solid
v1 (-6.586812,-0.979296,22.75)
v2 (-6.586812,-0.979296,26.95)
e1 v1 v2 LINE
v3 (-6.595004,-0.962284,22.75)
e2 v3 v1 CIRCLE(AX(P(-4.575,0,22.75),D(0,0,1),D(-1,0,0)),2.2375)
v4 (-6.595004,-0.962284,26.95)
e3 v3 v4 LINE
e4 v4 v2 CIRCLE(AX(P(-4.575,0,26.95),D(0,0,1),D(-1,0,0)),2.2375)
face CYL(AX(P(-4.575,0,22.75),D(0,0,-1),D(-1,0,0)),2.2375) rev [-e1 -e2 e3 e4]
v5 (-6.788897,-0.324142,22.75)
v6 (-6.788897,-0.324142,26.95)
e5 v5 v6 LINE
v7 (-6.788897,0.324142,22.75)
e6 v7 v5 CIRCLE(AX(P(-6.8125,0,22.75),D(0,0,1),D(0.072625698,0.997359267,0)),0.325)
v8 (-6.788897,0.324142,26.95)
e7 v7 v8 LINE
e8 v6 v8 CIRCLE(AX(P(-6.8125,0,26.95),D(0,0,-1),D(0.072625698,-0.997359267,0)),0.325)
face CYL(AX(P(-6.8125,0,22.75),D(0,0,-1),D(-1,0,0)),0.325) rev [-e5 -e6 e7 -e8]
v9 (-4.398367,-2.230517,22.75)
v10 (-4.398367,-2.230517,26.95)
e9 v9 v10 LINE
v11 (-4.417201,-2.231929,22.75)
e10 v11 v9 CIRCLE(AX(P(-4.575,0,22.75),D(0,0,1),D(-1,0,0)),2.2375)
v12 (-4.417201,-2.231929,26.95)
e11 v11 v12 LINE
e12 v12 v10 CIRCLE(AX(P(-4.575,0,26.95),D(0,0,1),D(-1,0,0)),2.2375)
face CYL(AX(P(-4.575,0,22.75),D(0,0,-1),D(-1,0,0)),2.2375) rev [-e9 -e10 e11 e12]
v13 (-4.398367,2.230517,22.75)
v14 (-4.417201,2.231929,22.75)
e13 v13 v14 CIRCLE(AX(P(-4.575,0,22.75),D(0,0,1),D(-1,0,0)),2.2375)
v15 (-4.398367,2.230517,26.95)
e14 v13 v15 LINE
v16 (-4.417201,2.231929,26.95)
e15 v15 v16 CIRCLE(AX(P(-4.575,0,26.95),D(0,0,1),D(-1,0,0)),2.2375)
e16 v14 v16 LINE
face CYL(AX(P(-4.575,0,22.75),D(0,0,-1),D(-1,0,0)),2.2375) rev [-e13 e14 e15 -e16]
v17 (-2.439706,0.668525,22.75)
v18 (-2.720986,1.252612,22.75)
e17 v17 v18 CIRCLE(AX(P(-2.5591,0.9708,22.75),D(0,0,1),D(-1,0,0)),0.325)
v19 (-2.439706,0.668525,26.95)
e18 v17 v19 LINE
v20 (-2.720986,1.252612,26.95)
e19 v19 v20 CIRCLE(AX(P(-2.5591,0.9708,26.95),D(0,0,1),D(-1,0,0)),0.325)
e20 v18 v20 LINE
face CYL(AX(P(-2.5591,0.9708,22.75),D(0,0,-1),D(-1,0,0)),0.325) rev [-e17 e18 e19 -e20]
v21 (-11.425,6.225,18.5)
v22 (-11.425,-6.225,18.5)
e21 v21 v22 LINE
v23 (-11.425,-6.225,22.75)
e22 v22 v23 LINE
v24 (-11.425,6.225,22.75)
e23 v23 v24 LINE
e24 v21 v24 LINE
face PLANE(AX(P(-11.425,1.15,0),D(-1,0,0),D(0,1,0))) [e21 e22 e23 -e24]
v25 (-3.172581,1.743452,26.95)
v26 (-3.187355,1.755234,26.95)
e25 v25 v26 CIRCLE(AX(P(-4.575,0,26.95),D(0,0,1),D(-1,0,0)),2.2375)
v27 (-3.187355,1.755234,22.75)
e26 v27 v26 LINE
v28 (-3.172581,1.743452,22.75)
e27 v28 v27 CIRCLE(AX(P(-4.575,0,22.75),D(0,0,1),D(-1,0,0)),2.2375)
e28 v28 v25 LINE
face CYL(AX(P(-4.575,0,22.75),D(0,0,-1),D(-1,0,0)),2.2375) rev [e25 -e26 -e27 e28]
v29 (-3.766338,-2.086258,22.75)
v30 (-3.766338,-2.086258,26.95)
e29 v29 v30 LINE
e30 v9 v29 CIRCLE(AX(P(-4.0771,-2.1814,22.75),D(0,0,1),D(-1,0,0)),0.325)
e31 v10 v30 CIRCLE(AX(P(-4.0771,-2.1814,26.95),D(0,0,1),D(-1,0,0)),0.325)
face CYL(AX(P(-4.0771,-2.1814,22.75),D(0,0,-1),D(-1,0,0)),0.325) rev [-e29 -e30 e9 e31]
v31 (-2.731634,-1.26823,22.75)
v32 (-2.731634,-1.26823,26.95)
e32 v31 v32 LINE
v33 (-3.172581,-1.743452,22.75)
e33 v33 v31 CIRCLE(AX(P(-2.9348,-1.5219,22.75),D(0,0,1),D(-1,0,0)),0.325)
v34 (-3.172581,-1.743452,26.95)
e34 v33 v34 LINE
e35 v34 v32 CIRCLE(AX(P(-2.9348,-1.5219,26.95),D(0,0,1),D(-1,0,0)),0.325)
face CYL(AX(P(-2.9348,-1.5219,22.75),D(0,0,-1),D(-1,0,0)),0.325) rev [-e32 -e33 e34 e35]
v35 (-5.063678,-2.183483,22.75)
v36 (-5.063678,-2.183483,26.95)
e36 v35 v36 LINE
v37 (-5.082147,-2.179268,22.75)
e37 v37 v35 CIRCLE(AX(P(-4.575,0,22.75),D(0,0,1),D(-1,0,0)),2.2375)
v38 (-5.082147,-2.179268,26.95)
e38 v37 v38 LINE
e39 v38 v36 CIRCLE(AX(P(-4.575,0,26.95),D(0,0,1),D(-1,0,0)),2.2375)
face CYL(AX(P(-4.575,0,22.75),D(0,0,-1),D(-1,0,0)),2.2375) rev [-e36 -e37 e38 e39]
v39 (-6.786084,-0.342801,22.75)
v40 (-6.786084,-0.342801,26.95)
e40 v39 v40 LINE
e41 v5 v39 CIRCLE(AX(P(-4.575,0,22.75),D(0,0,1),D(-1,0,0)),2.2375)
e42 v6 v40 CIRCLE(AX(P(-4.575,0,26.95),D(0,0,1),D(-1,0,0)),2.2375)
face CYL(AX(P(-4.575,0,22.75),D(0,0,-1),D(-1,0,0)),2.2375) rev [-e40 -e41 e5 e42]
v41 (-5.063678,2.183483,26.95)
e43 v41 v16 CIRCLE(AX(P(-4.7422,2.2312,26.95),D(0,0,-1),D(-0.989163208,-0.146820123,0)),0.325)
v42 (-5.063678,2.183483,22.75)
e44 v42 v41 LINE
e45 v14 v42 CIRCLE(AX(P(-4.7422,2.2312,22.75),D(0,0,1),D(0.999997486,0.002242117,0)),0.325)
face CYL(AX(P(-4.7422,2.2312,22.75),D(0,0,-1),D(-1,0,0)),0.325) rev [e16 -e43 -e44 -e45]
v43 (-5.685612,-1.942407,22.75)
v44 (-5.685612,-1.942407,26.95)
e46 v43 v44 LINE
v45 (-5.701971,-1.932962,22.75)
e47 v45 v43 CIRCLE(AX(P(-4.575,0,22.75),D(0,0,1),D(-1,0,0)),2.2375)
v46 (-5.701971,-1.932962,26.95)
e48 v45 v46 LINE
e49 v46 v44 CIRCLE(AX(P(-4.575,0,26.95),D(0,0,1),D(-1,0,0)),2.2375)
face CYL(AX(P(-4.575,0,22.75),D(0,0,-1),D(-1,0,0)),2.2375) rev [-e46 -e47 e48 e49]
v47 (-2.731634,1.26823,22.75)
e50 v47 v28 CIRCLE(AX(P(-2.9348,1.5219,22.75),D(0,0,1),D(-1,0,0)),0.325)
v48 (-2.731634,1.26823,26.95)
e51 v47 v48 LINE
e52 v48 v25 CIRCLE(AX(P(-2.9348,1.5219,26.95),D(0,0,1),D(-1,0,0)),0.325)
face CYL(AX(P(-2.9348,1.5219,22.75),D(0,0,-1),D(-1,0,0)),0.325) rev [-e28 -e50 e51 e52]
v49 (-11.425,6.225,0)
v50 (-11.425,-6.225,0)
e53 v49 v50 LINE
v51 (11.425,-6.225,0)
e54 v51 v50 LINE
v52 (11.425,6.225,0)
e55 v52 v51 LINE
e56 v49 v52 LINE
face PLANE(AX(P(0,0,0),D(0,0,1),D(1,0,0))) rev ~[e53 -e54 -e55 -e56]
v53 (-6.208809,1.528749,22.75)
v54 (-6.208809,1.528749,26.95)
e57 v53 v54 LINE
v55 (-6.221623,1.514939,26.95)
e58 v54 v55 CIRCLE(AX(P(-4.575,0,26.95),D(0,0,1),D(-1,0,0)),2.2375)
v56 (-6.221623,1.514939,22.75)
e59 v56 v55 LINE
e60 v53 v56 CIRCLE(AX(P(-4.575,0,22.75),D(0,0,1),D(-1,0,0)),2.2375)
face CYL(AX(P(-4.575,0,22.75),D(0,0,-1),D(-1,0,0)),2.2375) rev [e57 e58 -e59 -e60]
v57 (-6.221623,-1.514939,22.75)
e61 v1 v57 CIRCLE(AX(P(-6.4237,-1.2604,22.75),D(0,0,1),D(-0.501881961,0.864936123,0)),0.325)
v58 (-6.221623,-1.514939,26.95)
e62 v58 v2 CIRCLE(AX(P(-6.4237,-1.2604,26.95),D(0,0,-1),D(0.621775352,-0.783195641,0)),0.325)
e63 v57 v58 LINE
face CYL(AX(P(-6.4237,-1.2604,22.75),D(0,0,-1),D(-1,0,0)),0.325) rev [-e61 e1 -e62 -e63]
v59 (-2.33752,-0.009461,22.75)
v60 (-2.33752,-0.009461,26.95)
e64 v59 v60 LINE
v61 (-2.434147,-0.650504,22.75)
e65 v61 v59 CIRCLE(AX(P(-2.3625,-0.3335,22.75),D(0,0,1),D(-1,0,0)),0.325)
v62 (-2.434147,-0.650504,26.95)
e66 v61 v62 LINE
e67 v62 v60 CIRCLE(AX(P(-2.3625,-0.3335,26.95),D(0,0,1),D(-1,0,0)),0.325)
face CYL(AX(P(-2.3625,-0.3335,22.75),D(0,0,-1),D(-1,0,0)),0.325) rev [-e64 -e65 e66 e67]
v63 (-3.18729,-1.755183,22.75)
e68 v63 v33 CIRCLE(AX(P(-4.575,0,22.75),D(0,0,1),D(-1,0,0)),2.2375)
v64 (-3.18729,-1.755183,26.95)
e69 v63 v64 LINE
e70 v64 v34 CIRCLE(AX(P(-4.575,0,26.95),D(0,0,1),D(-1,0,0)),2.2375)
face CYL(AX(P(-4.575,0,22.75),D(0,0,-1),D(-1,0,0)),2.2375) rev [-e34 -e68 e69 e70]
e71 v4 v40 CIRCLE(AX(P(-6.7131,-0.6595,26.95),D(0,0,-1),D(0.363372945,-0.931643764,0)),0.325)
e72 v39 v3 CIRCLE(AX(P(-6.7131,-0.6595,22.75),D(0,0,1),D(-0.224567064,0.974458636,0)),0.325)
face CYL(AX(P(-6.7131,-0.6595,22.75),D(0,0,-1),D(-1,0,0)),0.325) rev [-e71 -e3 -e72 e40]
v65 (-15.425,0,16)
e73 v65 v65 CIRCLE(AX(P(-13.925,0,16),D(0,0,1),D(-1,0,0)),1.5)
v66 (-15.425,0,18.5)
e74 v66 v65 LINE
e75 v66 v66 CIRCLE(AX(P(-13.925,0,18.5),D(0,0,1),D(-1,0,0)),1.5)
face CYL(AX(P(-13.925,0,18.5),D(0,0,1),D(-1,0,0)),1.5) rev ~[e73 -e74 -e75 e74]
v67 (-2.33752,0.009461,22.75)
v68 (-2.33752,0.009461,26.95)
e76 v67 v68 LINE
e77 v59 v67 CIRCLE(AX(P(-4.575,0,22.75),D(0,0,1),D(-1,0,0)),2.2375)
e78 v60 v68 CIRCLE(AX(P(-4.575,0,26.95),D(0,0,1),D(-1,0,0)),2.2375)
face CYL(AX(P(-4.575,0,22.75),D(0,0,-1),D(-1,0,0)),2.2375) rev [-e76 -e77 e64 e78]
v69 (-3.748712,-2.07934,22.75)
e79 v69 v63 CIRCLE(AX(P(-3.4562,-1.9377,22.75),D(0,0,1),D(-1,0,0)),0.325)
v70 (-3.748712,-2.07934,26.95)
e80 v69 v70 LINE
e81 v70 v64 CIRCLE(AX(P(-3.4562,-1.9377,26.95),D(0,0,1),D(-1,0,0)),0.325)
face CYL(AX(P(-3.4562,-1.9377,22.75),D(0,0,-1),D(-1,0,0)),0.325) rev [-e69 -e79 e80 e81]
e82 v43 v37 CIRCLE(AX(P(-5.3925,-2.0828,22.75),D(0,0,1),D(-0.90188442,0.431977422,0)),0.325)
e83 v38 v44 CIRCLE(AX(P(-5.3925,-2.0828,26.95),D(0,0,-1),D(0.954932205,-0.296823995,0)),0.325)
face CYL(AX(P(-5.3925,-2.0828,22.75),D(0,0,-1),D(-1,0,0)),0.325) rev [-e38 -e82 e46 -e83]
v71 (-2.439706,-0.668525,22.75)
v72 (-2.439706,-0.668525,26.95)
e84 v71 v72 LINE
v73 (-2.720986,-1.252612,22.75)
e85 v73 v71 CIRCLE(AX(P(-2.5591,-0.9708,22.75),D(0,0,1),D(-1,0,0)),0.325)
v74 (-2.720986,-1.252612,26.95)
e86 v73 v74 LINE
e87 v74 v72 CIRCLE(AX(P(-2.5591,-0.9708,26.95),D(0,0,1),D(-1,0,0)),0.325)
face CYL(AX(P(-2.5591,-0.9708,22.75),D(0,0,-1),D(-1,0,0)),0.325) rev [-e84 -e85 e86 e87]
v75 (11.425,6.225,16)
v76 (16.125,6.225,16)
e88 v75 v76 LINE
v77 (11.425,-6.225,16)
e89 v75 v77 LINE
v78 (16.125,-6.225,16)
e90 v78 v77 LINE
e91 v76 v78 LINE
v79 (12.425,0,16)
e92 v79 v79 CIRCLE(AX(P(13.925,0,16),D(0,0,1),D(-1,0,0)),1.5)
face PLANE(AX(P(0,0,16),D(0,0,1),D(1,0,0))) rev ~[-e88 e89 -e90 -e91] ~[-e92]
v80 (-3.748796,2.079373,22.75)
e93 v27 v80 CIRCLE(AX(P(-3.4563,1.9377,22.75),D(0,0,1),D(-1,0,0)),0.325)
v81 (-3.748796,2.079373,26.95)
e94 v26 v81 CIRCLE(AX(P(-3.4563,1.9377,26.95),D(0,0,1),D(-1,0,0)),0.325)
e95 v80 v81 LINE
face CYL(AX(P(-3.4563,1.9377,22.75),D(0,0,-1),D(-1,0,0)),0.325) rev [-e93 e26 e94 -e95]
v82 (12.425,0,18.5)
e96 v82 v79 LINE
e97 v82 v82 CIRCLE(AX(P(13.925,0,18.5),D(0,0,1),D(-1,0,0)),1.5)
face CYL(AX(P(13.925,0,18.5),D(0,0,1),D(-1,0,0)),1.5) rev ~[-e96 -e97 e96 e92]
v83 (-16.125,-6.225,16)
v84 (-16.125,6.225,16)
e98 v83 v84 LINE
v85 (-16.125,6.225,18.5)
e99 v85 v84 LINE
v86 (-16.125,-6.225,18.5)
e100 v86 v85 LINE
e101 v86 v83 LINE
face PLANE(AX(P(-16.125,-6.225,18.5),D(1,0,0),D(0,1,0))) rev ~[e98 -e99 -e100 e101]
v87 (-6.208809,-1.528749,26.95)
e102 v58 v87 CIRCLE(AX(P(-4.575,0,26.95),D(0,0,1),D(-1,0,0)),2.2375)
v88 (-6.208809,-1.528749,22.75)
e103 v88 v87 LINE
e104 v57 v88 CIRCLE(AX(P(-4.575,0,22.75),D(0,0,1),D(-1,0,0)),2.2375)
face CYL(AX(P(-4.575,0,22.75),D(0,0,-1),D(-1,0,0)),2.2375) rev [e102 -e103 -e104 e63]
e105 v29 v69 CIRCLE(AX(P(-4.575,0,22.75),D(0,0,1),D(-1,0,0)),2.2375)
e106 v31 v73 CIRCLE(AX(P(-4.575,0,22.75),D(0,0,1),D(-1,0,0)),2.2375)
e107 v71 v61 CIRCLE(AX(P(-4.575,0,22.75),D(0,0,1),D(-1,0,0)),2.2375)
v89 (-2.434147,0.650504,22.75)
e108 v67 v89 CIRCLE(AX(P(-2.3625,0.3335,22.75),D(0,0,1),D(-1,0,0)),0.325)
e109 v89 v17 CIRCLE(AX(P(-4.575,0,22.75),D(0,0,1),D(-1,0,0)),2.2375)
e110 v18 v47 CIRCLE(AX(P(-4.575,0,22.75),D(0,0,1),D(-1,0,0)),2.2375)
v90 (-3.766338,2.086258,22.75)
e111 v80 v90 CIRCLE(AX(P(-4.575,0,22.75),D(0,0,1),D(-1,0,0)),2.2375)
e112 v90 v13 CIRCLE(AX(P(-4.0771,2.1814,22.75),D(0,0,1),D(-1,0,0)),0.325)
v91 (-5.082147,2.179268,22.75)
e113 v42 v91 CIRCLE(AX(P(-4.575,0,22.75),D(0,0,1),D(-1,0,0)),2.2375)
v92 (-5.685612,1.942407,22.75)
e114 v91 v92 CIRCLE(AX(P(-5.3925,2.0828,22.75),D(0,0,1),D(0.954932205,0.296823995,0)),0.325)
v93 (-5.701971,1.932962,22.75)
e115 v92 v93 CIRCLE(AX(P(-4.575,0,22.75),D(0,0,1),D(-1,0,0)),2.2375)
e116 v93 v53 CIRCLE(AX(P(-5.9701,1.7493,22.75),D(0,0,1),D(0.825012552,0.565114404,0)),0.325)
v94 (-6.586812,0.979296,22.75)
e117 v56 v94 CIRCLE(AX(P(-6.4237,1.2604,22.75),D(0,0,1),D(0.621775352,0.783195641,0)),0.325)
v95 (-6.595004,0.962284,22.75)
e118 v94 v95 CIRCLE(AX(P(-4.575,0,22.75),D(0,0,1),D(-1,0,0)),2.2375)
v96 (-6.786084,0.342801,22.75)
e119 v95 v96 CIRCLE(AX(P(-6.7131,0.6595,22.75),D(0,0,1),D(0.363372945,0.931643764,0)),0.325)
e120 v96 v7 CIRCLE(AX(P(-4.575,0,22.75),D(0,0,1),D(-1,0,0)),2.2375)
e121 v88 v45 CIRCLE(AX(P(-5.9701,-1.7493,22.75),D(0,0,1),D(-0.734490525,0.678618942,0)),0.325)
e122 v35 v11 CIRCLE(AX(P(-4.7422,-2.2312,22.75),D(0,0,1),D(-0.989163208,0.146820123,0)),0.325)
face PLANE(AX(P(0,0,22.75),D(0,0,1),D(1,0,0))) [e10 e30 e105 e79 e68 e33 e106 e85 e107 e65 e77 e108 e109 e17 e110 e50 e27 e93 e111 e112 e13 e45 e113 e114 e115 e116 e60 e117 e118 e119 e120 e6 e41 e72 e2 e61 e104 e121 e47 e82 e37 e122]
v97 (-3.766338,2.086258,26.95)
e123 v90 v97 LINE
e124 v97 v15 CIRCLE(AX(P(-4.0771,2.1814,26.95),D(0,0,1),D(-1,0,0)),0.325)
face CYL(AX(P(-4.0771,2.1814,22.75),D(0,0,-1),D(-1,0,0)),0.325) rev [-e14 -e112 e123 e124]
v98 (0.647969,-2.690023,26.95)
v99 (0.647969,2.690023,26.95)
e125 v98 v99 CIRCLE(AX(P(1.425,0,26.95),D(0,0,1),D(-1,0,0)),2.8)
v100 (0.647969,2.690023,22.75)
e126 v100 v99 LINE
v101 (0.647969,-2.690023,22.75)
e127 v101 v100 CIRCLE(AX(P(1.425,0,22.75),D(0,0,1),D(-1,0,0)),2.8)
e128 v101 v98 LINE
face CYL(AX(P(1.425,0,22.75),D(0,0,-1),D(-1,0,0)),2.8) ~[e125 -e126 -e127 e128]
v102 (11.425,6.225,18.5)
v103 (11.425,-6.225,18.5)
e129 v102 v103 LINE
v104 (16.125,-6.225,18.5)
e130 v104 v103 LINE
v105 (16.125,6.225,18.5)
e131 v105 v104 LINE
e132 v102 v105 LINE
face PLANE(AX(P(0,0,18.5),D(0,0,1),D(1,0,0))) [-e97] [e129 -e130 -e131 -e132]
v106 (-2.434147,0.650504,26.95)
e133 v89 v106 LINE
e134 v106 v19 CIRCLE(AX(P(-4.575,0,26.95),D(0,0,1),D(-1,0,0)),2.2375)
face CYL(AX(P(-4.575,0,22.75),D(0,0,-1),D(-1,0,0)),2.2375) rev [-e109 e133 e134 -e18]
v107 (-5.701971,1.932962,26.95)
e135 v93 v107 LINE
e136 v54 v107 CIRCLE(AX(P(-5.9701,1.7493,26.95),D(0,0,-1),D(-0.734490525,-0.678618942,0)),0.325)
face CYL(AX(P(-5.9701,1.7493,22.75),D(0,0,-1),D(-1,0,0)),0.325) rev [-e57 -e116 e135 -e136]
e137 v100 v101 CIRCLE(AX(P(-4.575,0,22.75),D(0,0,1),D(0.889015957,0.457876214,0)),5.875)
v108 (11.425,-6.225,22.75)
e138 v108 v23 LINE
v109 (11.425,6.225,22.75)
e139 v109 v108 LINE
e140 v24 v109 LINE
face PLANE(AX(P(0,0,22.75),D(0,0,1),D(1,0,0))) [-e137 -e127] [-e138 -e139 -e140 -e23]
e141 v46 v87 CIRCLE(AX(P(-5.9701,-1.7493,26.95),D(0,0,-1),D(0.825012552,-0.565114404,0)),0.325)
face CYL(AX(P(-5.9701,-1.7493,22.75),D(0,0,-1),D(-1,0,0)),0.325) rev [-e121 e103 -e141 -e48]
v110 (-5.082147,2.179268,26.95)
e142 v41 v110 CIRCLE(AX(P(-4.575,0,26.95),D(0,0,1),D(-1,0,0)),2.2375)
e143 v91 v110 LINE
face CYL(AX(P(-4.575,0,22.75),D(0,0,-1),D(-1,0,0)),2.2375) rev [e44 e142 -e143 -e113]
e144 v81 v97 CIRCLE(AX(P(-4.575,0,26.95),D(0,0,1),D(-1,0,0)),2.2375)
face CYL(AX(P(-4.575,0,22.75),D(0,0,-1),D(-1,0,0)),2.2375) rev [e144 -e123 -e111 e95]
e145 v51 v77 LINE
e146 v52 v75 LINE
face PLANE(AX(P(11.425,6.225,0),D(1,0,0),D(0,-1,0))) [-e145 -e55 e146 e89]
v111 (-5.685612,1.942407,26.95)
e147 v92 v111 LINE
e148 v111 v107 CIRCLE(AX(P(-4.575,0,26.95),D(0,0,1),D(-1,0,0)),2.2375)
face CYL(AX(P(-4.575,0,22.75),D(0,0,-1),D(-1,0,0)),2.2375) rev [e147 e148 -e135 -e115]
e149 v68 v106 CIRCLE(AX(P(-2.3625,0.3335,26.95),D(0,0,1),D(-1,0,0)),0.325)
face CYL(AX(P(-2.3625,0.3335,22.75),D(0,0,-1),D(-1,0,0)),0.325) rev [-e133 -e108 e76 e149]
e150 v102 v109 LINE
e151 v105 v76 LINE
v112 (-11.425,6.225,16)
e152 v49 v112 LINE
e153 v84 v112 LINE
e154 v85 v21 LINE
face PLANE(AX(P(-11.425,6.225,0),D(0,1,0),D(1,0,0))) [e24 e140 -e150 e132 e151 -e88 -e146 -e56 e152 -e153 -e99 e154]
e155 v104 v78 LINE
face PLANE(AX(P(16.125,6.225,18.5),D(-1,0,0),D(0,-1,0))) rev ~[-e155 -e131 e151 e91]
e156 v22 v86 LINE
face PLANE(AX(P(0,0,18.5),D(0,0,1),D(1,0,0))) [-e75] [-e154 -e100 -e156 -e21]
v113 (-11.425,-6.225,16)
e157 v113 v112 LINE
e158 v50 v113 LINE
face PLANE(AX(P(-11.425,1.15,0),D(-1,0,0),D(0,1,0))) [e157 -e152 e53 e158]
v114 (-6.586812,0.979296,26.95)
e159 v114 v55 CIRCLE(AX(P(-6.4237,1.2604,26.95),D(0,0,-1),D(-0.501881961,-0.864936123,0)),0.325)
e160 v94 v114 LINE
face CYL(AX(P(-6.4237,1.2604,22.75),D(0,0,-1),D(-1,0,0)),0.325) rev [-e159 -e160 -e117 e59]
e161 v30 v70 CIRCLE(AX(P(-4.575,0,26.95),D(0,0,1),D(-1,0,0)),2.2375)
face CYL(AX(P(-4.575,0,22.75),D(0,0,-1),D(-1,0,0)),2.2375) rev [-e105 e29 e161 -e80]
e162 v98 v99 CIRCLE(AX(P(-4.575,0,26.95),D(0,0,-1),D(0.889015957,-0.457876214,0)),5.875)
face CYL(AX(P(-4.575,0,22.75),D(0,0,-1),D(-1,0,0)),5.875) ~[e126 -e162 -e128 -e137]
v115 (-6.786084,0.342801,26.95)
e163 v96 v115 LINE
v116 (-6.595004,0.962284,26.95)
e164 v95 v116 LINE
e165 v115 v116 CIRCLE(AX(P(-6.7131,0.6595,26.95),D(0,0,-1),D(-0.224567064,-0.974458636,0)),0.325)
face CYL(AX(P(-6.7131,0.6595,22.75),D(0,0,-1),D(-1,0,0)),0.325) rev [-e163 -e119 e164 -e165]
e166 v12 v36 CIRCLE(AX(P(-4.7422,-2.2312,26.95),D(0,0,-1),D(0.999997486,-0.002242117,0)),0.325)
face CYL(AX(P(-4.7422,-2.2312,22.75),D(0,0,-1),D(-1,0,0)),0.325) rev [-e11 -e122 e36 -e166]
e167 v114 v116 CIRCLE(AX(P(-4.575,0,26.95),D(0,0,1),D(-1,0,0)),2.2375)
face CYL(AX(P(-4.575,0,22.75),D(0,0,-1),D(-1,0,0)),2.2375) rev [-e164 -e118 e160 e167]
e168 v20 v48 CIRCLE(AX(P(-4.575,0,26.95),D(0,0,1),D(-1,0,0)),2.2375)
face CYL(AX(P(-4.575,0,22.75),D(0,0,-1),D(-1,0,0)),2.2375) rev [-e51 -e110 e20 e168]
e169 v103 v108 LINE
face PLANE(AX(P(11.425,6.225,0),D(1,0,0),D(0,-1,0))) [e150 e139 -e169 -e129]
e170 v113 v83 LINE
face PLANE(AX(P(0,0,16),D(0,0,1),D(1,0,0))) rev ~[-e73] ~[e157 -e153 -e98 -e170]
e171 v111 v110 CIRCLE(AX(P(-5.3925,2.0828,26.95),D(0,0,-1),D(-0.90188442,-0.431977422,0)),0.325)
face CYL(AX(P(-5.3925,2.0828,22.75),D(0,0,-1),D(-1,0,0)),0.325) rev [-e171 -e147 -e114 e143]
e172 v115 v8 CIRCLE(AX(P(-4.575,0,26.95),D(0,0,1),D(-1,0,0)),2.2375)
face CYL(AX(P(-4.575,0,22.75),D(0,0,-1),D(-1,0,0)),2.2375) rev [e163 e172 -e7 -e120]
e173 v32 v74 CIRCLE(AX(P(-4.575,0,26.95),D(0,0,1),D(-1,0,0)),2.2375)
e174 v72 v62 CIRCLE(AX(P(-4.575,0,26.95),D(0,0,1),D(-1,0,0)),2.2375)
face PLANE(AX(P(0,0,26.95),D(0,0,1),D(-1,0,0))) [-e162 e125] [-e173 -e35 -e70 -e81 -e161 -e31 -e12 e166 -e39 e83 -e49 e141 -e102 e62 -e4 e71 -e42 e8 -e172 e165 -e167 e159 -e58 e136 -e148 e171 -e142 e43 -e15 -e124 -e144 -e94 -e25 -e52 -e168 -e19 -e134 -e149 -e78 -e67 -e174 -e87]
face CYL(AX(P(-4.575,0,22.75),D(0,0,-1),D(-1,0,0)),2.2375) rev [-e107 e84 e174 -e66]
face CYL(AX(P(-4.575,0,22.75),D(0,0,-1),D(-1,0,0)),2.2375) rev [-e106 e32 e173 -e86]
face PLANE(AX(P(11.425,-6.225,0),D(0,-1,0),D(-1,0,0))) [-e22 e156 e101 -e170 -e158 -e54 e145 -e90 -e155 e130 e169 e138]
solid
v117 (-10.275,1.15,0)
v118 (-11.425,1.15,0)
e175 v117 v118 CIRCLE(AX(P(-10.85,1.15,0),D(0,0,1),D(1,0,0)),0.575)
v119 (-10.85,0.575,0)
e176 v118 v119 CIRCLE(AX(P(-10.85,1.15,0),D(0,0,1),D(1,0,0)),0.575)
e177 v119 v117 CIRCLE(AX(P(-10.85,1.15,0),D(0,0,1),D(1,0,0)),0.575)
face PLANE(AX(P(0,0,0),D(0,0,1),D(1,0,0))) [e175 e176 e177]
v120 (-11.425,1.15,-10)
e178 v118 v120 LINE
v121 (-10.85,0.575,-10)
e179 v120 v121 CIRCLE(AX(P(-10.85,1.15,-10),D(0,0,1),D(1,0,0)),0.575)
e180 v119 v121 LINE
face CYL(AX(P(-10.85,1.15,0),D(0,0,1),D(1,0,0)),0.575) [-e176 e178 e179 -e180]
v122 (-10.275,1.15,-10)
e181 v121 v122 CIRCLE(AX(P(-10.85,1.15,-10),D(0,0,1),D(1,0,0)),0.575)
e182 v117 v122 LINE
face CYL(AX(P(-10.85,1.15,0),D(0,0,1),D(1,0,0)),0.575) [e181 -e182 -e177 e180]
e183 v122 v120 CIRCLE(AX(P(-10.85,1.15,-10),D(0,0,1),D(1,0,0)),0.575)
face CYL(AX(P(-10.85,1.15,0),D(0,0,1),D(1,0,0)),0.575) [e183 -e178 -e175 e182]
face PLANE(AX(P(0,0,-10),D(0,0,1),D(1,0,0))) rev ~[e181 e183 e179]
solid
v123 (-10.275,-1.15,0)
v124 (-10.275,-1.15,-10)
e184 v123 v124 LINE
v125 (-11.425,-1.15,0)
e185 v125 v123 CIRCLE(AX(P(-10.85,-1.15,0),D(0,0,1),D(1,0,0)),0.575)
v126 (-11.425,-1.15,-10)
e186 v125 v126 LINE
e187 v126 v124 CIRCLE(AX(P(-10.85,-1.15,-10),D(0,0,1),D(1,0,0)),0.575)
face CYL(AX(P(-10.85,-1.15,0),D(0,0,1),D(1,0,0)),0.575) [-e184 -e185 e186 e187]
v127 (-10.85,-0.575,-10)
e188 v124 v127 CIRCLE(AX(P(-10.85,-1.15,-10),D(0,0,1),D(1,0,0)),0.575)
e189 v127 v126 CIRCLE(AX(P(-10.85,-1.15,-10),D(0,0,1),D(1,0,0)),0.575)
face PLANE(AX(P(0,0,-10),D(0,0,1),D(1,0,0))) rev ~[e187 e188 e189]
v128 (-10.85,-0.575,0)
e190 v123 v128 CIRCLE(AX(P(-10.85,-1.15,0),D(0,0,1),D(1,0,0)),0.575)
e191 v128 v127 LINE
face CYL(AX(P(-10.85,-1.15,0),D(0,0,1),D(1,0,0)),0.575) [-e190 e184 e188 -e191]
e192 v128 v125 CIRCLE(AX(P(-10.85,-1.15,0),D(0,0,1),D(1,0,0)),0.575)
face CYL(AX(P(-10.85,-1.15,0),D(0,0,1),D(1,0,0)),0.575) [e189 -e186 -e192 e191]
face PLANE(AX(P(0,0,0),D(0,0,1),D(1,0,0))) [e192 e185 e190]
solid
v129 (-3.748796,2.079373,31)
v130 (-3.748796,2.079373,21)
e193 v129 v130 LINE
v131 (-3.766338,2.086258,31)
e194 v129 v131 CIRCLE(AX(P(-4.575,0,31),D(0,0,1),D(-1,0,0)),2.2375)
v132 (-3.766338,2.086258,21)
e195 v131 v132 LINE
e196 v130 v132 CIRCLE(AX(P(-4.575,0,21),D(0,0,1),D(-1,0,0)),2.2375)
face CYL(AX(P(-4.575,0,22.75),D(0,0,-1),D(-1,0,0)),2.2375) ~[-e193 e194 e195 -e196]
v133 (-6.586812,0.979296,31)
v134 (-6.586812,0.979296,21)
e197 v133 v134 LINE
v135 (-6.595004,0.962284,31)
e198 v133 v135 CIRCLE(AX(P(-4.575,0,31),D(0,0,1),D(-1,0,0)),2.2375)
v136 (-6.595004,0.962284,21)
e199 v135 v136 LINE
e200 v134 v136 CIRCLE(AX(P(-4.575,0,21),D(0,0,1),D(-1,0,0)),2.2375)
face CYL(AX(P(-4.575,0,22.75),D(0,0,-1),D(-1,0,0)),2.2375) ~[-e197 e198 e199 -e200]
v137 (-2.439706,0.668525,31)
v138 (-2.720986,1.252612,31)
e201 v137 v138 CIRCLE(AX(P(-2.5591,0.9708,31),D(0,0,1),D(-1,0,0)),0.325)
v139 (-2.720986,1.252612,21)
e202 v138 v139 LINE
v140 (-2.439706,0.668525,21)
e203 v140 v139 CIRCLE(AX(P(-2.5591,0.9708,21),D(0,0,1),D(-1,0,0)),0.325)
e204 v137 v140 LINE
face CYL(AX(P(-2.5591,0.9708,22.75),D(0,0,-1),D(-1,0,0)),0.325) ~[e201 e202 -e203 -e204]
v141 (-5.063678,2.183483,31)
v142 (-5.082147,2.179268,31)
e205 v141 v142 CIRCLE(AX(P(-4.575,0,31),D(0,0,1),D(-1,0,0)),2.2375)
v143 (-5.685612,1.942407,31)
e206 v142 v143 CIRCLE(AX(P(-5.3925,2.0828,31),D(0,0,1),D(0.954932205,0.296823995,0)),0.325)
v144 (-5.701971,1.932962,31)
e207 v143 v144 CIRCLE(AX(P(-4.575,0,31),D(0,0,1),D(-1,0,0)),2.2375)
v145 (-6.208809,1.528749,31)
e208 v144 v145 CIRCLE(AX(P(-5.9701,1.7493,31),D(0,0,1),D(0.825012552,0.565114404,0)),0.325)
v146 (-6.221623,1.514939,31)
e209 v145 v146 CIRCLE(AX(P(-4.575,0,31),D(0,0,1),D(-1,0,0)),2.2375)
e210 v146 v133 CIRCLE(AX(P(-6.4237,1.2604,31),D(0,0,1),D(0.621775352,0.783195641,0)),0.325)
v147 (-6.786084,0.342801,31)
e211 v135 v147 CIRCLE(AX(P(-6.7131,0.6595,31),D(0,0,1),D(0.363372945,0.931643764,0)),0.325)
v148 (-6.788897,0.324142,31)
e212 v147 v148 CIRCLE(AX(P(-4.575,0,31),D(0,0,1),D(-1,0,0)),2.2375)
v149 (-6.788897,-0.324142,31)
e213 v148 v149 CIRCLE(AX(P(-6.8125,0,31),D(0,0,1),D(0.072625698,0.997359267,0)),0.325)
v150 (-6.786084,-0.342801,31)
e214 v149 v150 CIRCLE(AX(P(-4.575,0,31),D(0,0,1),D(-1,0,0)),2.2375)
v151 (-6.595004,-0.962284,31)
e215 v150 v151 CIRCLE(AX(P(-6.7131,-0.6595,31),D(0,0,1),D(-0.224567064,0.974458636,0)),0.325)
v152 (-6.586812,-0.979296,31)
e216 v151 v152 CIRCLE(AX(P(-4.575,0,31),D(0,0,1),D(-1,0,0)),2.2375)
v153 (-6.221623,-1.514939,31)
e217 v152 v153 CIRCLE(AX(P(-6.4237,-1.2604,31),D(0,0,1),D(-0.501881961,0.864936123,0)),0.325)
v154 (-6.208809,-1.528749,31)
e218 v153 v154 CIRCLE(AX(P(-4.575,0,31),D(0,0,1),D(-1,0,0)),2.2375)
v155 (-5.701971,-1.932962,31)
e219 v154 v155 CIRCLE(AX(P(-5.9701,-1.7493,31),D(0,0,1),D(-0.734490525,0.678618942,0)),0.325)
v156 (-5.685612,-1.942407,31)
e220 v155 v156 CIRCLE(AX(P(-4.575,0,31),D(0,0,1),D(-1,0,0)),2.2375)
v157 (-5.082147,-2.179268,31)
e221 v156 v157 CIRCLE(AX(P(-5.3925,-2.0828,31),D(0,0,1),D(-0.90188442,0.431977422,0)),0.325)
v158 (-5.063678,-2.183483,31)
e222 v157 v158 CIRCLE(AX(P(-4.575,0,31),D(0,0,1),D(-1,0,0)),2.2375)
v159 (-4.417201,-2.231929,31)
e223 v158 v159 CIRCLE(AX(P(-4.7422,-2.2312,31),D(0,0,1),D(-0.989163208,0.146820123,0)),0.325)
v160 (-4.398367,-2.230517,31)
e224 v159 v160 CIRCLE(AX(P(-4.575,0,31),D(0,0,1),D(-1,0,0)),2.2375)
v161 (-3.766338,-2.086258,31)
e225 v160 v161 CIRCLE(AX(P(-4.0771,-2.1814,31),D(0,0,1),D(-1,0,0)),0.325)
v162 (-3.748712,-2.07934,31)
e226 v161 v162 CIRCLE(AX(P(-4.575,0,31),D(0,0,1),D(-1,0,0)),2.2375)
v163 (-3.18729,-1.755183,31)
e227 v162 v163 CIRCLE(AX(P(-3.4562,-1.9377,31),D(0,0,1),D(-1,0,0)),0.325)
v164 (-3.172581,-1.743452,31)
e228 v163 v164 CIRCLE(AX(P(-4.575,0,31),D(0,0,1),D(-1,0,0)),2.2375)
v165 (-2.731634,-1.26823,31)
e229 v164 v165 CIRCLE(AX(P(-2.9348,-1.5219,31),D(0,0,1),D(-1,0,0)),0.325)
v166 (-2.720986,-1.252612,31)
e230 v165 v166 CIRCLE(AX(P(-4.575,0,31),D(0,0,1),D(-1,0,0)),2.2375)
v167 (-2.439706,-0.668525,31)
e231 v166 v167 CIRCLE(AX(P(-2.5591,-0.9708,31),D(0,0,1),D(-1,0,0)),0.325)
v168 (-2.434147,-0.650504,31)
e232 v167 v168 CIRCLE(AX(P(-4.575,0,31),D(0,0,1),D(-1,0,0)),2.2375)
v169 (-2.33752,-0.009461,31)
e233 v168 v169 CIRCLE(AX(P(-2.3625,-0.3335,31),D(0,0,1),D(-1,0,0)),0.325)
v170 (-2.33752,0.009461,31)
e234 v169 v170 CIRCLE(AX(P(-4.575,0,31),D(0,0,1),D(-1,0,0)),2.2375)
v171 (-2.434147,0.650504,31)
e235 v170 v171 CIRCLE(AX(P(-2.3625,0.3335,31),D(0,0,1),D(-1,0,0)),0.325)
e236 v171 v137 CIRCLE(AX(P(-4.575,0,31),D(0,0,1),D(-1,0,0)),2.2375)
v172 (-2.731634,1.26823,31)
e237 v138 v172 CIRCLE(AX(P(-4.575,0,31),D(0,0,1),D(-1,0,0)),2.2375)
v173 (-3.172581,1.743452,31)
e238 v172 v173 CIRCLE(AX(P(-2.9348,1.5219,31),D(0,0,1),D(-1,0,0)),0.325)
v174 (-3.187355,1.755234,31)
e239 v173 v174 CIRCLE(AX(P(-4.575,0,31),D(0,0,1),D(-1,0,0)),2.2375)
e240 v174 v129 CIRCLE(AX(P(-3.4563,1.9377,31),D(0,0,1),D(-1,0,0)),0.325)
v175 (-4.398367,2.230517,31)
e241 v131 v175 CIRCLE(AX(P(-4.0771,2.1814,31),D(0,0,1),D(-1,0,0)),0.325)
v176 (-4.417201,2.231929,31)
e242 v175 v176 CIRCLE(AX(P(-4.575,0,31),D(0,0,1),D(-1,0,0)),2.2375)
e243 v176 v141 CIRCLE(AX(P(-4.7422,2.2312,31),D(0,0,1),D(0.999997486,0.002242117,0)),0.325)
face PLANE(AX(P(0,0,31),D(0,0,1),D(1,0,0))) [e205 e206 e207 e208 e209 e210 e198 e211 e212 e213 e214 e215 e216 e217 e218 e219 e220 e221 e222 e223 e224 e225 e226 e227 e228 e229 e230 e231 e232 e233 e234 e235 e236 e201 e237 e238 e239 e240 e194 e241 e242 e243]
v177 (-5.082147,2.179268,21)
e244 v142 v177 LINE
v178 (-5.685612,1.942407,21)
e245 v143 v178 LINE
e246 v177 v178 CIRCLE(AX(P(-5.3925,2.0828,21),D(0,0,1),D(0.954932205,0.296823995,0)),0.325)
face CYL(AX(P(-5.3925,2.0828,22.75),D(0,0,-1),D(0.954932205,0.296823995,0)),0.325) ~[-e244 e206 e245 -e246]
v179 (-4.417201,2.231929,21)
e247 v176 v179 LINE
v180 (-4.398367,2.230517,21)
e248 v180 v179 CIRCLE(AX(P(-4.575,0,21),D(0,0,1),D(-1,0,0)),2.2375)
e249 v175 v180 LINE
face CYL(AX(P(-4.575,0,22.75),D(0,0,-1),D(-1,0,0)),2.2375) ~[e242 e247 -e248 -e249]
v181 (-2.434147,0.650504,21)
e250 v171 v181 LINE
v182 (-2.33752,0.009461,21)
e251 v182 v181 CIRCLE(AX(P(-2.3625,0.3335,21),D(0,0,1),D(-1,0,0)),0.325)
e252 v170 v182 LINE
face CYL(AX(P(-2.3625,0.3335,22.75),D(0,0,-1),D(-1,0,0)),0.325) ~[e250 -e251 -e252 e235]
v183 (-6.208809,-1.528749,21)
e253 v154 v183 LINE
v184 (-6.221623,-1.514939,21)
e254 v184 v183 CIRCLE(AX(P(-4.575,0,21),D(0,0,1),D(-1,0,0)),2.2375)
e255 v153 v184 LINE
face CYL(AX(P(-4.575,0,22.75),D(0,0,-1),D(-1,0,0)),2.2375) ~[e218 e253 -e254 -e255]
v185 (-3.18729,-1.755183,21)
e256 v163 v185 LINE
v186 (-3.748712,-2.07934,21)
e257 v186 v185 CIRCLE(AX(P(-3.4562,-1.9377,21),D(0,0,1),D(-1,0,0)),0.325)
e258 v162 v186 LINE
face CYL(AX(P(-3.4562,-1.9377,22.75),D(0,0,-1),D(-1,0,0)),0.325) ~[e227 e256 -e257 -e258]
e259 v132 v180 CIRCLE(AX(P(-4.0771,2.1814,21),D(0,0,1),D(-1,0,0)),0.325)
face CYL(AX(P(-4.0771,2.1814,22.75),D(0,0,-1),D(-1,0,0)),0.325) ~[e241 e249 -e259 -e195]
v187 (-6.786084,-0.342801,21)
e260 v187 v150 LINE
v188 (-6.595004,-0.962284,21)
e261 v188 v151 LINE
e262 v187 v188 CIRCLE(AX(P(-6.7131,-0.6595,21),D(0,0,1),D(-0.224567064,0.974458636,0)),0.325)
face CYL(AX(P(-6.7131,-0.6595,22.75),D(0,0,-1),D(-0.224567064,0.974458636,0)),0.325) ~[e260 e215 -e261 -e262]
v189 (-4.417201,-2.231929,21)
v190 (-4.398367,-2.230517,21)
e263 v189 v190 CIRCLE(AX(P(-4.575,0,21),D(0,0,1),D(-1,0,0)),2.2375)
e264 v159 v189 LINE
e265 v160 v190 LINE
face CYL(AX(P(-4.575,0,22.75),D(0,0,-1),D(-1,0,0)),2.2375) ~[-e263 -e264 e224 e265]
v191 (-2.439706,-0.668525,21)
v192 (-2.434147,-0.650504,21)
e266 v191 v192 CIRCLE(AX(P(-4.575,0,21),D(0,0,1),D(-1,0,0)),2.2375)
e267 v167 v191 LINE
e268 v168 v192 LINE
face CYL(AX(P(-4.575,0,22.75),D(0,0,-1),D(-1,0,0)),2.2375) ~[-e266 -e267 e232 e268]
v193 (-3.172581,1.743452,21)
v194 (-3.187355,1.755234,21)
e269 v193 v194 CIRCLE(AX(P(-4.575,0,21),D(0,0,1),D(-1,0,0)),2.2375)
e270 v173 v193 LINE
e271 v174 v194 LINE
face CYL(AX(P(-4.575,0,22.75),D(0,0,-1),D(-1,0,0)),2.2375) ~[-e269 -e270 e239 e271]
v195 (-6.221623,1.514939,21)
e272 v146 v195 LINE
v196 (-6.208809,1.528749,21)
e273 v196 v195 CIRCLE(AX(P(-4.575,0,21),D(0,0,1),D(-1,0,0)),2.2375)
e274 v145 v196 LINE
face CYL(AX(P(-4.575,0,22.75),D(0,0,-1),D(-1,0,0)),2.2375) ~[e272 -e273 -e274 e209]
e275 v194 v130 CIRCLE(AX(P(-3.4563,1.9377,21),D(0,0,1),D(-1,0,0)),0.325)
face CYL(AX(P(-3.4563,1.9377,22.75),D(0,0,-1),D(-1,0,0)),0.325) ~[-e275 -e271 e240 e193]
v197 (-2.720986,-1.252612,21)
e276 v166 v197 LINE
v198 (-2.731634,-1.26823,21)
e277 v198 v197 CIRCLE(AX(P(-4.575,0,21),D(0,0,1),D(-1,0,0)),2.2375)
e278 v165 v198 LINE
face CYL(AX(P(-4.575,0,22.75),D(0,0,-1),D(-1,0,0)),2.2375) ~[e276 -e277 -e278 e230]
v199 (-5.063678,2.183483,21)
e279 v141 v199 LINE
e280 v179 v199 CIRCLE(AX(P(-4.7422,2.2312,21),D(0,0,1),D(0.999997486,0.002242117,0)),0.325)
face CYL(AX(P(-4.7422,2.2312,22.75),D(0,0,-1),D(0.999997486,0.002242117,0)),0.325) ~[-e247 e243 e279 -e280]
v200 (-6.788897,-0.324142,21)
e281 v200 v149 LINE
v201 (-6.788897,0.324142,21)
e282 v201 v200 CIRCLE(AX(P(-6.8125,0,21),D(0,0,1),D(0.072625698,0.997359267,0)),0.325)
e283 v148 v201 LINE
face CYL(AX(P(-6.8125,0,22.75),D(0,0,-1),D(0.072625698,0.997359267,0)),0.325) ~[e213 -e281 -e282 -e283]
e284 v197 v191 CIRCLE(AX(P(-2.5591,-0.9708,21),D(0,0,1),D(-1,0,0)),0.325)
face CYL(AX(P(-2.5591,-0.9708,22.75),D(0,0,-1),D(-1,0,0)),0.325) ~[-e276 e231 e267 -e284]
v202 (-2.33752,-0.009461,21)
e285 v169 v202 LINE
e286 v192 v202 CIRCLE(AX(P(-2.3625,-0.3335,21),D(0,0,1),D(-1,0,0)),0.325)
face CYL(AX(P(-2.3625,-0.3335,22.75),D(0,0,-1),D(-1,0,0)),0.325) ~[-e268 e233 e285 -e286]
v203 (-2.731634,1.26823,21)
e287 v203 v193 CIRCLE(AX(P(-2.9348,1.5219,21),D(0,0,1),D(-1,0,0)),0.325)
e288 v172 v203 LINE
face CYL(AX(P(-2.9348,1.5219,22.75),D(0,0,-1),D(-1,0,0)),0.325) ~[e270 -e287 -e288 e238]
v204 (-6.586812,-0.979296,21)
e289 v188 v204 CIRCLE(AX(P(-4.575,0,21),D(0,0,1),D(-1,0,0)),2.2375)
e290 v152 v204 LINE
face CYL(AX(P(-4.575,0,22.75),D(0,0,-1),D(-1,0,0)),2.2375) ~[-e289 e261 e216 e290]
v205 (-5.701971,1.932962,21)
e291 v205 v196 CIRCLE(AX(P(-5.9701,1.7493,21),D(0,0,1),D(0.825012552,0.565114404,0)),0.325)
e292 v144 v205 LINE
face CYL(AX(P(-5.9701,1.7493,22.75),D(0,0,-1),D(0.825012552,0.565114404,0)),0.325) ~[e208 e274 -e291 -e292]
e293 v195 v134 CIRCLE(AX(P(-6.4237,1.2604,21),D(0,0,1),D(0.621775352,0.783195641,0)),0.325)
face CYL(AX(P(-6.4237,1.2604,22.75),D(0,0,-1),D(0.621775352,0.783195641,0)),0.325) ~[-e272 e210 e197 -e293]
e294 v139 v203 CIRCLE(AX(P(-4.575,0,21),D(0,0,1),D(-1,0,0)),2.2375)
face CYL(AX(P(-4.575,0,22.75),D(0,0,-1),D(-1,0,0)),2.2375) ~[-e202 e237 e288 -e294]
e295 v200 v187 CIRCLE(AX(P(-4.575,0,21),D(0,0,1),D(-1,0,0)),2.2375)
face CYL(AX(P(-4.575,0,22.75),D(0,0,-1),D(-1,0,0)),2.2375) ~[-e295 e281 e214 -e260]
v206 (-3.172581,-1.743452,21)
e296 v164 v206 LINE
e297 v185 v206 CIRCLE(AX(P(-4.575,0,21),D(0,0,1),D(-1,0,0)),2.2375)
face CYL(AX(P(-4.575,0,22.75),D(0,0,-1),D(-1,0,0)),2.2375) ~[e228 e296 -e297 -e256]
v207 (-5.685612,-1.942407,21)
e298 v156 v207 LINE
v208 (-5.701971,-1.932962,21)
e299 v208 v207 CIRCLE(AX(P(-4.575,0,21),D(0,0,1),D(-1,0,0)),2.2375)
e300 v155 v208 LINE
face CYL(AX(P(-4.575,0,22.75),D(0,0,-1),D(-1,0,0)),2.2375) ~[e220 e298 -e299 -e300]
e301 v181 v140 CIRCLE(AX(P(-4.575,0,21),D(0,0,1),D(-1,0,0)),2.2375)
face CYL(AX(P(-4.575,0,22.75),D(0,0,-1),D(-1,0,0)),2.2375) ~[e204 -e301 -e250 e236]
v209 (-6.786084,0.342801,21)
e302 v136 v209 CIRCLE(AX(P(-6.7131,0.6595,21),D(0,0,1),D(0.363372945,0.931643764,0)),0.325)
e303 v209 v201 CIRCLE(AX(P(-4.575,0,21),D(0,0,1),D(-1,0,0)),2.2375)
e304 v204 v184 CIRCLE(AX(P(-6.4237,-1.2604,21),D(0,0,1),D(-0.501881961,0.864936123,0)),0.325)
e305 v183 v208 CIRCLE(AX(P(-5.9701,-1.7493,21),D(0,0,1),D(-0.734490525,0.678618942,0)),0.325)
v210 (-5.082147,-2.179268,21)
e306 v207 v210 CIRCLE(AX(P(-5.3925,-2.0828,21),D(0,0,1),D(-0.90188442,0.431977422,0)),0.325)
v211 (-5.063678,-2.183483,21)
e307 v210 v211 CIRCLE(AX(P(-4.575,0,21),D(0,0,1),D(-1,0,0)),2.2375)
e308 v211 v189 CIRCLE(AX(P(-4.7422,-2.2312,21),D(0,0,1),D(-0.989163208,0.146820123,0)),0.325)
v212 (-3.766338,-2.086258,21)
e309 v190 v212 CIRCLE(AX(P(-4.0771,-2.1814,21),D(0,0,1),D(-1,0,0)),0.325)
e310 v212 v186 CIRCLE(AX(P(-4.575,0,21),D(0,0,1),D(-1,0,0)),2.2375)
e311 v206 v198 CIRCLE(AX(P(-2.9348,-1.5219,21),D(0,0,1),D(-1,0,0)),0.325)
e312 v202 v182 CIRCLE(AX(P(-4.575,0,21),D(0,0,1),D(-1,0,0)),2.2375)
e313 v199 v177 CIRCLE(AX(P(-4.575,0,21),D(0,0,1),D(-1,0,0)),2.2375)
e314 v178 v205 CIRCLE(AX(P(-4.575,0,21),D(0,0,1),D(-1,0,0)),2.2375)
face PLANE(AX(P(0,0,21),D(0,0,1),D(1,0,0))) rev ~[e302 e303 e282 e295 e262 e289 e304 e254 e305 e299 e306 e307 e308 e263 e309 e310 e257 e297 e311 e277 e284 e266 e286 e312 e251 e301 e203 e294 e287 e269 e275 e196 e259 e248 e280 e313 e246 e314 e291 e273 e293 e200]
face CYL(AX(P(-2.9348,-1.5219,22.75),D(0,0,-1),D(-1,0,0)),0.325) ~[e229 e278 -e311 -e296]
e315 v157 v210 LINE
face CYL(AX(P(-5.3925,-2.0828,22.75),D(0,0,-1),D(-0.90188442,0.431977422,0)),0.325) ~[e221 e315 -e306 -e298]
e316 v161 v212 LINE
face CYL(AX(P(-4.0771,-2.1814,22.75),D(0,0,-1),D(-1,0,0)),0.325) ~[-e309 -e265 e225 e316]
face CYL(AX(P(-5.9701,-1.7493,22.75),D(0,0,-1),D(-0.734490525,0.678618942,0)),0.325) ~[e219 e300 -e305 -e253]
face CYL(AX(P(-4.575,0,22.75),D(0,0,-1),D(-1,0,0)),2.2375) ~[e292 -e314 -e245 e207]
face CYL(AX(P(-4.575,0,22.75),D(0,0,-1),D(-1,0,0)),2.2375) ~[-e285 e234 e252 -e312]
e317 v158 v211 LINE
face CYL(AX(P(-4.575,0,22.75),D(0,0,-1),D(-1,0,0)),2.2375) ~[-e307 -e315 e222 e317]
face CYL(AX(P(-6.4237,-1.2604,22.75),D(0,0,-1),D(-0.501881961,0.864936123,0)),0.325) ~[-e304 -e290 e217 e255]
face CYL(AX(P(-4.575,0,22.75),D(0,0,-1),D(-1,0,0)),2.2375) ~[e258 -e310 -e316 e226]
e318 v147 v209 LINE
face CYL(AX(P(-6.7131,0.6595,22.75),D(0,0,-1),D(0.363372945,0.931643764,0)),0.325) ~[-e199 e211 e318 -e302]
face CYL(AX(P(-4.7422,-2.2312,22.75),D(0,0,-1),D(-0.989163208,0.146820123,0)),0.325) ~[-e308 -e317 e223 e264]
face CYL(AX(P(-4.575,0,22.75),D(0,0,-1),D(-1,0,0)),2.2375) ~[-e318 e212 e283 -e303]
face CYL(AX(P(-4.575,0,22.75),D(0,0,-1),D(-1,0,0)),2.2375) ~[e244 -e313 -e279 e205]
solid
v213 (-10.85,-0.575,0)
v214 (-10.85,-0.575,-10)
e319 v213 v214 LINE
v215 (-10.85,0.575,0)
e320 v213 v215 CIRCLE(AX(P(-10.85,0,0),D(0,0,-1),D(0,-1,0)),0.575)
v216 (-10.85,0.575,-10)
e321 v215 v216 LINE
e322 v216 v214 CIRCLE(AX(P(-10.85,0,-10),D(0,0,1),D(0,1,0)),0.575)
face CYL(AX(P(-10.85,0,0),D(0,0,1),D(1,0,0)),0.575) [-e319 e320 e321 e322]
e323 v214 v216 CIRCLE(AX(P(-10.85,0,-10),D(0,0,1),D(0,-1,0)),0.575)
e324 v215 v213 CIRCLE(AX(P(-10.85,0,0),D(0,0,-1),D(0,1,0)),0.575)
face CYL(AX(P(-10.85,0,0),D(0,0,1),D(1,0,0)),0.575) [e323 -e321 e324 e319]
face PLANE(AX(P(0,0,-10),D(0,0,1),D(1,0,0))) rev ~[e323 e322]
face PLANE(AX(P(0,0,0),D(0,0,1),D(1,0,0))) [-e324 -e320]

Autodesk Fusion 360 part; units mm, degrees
sketch "Sketch1" plane through (0, 0, 0) normal (0, 0, 1) x (1, 0, 0)
  line L0 (-11.425, 6.225) -> (11.425, 6.225)
  line L1 (11.425, 6.225) -> (11.425, -6.225)
  line L2 (11.425, -6.225) -> (-11.425, -6.225)
  line L3 (-11.425, -6.225) -> (-11.425, 6.225)
  line L4 (-11.425, 6.225) -> (11.425, -6.225) construction
  line L5 (11.425, 6.225) -> (-11.425, -6.225) construction
  line L6 (-16.125, 6.225) -> (16.125, 6.225)
  line L7 (16.125, 6.225) -> (16.125, -6.225)
  line L8 (16.125, -6.225) -> (-16.125, -6.225)
  line L9 (-16.125, -6.225) -> (-16.125, 6.225)
  line L10 (-16.125, 6.225) -> (16.125, -6.225) construction
  line L11 (16.125, 6.225) -> (-16.125, -6.225) construction
  circle A0 centre (-10.85, 0) radius 0.575
  line L12 (-10.85, 0) -> (-10.85, -1.15) construction
  line L13 (-10.85, 0) -> (-10.85, 1.15) construction
  circle A1 centre (-10.85, -1.15) radius 0.575
  circle A2 centre (-10.85, 1.15) radius 0.575
  dimension "d1" = 22.85
  dimension "d2" = 12.45
  dimension "d5" = 32.25
  dimension "d6" = 12.45
  dimension "d31" = 1.15
  dimension "d32" = 1.15
  dimension "d33" = 1.15
  dimension "d34" = 1.15
  dimension "d35" = 1.15
extrude "Extrude7" add sketch "Sketch1" against normal blind 10 contours A2 | A0 | A1 makes body 1 at (-10.2757, -1.1787, -6.6667)
extrude "Extrude1" add sketch "Sketch1" along normal blind 22.75 separate body contours L0 L1 L2 L3 L6 L8 A0 A1 A2 | L3 A0 A2 | A2 | L3 A0 A1 | A0 | A1 makes body 2
extrude "Extrude2" add sketch "Sketch1" along normal blind 16 and the other way blind -18.5 contours L3 L6 L8 L9 | L1 L6 L7 L8 bodies 2
sketch "Sketch2" plane through (0, 0, 18.5) normal (0, 0, 1) x (-1, 0, 0)
  line L0 (11.425, 6.225) -> (11.425, -6.225)
  line L1 (11.425, -6.225) -> (16.125, -6.225)
  line L2 (16.125, -6.225) -> (16.125, 6.225)
  line L3 (16.125, 6.225) -> (11.425, 6.225)
  line L4 (11.425, 0) -> (12.425, 0) construction
  circle A0 centre (13.925, 0) radius 1.5
  line L5 (0, 0) -> (0, -3)
  circle A1 centre (-13.925, 0) radius 1.5
  dimension "d11" = 1
  dimension "d12" = 3
extrude "Extrude3" cut sketch "Sketch2" against normal blind 6 contours A0 | A1 bodies 2
sketch "Sketch3" plane through (0, 0, 22.75) normal (0, 0, 1) x (-1, 0, 0)
  line L0 (11.425, 6.225) -> (-11.425, 6.225)
  line L1 (-11.425, 6.225) -> (-11.425, -6.225)
  line L2 (-11.425, -6.225) -> (11.425, -6.225)
  line L3 (11.425, -6.225) -> (11.425, 6.225)
  line L4 (-11.425, 0) -> (4.575, 0) construction
  circle A0 centre (4.575, 0) radius 5.875
  circle A1 centre (4.575, 0) radius 2.2375
  circle A2 centre (6.8125, 0) radius 0.325
  circle A3 centre (6.7131, 0.6595) radius 0.325
  circle A4 centre (6.4237, 1.2604) radius 0.325
  circle A5 centre (5.9701, 1.7493) radius 0.325
  circle A6 centre (5.3925, 2.0828) radius 0.325
  circle A7 centre (4.7422, 2.2312) radius 0.325
  circle A8 centre (4.0771, 2.1814) radius 0.325
  circle A9 centre (3.4562, 1.9377) radius 0.325
  circle A10 centre (2.9348, 1.5219) radius 0.325
  circle A11 centre (2.5591, 0.9708) radius 0.325
  circle A12 centre (2.3625, 0.3335) radius 0.325
  circle A13 centre (2.3625, -0.3335) radius 0.325
  circle A14 centre (2.5591, -0.9708) radius 0.325
  circle A15 centre (2.9348, -1.5219) radius 0.325
  circle A16 centre (3.4563, -1.9377) radius 0.325
  circle A17 centre (4.0771, -2.1814) radius 0.325
  circle A18 centre (4.7422, -2.2312) radius 0.325
  circle A19 centre (5.3925, -2.0828) radius 0.325
  circle A20 centre (5.9701, -1.7493) radius 0.325
  circle A21 centre (6.4237, -1.2604) radius 0.325
  circle A22 centre (6.7131, -0.6595) radius 0.325
  line L5 (4.575, 0) -> (-1.425, 0) construction
  circle A23 centre (-1.425, 0) radius 2.8
  dimension "d15" = 16
  dimension "d16" = 11.75
  dimension "d17" = 4.475
  dimension "d18" = 0.65
  dimension "d20" = 360
  dimension "d21" = 6
  dimension "d22" = 5.6
extrude "Extrude4" add sketch "Sketch3" along normal blind 4.2 contours A0 A23 | A0 A23 | A0 A23 bodies 2
extrude "Extrude5" add 1 faces at (-4.6091, 0.2197, 22.75) along direction (0, 0, 1) blind 8.25 and the other way blind 22.75 separate body on bodies 2 makes body 3
extrude "Extrude6" cut 1 faces at (-4.6091, 0.2197, 0) along direction (0, 0, 1) blind 21 on bodies 3 bodies 3
sketch "Sketch4" plane through (0, 0, 0) normal (0, 0, 1) x (1, 0, 0)
  line L0 (0, 0) -> (-4.5, 0)
  dimension "d38" = 4.5
equation "d9 = -16.00 mm - 2.5 mm"
equation "d17 = 4.85 mm - ( 0.75 / 2 ) * 1 mm"
equation "d25 = 31 mm - 22.75 mm"
